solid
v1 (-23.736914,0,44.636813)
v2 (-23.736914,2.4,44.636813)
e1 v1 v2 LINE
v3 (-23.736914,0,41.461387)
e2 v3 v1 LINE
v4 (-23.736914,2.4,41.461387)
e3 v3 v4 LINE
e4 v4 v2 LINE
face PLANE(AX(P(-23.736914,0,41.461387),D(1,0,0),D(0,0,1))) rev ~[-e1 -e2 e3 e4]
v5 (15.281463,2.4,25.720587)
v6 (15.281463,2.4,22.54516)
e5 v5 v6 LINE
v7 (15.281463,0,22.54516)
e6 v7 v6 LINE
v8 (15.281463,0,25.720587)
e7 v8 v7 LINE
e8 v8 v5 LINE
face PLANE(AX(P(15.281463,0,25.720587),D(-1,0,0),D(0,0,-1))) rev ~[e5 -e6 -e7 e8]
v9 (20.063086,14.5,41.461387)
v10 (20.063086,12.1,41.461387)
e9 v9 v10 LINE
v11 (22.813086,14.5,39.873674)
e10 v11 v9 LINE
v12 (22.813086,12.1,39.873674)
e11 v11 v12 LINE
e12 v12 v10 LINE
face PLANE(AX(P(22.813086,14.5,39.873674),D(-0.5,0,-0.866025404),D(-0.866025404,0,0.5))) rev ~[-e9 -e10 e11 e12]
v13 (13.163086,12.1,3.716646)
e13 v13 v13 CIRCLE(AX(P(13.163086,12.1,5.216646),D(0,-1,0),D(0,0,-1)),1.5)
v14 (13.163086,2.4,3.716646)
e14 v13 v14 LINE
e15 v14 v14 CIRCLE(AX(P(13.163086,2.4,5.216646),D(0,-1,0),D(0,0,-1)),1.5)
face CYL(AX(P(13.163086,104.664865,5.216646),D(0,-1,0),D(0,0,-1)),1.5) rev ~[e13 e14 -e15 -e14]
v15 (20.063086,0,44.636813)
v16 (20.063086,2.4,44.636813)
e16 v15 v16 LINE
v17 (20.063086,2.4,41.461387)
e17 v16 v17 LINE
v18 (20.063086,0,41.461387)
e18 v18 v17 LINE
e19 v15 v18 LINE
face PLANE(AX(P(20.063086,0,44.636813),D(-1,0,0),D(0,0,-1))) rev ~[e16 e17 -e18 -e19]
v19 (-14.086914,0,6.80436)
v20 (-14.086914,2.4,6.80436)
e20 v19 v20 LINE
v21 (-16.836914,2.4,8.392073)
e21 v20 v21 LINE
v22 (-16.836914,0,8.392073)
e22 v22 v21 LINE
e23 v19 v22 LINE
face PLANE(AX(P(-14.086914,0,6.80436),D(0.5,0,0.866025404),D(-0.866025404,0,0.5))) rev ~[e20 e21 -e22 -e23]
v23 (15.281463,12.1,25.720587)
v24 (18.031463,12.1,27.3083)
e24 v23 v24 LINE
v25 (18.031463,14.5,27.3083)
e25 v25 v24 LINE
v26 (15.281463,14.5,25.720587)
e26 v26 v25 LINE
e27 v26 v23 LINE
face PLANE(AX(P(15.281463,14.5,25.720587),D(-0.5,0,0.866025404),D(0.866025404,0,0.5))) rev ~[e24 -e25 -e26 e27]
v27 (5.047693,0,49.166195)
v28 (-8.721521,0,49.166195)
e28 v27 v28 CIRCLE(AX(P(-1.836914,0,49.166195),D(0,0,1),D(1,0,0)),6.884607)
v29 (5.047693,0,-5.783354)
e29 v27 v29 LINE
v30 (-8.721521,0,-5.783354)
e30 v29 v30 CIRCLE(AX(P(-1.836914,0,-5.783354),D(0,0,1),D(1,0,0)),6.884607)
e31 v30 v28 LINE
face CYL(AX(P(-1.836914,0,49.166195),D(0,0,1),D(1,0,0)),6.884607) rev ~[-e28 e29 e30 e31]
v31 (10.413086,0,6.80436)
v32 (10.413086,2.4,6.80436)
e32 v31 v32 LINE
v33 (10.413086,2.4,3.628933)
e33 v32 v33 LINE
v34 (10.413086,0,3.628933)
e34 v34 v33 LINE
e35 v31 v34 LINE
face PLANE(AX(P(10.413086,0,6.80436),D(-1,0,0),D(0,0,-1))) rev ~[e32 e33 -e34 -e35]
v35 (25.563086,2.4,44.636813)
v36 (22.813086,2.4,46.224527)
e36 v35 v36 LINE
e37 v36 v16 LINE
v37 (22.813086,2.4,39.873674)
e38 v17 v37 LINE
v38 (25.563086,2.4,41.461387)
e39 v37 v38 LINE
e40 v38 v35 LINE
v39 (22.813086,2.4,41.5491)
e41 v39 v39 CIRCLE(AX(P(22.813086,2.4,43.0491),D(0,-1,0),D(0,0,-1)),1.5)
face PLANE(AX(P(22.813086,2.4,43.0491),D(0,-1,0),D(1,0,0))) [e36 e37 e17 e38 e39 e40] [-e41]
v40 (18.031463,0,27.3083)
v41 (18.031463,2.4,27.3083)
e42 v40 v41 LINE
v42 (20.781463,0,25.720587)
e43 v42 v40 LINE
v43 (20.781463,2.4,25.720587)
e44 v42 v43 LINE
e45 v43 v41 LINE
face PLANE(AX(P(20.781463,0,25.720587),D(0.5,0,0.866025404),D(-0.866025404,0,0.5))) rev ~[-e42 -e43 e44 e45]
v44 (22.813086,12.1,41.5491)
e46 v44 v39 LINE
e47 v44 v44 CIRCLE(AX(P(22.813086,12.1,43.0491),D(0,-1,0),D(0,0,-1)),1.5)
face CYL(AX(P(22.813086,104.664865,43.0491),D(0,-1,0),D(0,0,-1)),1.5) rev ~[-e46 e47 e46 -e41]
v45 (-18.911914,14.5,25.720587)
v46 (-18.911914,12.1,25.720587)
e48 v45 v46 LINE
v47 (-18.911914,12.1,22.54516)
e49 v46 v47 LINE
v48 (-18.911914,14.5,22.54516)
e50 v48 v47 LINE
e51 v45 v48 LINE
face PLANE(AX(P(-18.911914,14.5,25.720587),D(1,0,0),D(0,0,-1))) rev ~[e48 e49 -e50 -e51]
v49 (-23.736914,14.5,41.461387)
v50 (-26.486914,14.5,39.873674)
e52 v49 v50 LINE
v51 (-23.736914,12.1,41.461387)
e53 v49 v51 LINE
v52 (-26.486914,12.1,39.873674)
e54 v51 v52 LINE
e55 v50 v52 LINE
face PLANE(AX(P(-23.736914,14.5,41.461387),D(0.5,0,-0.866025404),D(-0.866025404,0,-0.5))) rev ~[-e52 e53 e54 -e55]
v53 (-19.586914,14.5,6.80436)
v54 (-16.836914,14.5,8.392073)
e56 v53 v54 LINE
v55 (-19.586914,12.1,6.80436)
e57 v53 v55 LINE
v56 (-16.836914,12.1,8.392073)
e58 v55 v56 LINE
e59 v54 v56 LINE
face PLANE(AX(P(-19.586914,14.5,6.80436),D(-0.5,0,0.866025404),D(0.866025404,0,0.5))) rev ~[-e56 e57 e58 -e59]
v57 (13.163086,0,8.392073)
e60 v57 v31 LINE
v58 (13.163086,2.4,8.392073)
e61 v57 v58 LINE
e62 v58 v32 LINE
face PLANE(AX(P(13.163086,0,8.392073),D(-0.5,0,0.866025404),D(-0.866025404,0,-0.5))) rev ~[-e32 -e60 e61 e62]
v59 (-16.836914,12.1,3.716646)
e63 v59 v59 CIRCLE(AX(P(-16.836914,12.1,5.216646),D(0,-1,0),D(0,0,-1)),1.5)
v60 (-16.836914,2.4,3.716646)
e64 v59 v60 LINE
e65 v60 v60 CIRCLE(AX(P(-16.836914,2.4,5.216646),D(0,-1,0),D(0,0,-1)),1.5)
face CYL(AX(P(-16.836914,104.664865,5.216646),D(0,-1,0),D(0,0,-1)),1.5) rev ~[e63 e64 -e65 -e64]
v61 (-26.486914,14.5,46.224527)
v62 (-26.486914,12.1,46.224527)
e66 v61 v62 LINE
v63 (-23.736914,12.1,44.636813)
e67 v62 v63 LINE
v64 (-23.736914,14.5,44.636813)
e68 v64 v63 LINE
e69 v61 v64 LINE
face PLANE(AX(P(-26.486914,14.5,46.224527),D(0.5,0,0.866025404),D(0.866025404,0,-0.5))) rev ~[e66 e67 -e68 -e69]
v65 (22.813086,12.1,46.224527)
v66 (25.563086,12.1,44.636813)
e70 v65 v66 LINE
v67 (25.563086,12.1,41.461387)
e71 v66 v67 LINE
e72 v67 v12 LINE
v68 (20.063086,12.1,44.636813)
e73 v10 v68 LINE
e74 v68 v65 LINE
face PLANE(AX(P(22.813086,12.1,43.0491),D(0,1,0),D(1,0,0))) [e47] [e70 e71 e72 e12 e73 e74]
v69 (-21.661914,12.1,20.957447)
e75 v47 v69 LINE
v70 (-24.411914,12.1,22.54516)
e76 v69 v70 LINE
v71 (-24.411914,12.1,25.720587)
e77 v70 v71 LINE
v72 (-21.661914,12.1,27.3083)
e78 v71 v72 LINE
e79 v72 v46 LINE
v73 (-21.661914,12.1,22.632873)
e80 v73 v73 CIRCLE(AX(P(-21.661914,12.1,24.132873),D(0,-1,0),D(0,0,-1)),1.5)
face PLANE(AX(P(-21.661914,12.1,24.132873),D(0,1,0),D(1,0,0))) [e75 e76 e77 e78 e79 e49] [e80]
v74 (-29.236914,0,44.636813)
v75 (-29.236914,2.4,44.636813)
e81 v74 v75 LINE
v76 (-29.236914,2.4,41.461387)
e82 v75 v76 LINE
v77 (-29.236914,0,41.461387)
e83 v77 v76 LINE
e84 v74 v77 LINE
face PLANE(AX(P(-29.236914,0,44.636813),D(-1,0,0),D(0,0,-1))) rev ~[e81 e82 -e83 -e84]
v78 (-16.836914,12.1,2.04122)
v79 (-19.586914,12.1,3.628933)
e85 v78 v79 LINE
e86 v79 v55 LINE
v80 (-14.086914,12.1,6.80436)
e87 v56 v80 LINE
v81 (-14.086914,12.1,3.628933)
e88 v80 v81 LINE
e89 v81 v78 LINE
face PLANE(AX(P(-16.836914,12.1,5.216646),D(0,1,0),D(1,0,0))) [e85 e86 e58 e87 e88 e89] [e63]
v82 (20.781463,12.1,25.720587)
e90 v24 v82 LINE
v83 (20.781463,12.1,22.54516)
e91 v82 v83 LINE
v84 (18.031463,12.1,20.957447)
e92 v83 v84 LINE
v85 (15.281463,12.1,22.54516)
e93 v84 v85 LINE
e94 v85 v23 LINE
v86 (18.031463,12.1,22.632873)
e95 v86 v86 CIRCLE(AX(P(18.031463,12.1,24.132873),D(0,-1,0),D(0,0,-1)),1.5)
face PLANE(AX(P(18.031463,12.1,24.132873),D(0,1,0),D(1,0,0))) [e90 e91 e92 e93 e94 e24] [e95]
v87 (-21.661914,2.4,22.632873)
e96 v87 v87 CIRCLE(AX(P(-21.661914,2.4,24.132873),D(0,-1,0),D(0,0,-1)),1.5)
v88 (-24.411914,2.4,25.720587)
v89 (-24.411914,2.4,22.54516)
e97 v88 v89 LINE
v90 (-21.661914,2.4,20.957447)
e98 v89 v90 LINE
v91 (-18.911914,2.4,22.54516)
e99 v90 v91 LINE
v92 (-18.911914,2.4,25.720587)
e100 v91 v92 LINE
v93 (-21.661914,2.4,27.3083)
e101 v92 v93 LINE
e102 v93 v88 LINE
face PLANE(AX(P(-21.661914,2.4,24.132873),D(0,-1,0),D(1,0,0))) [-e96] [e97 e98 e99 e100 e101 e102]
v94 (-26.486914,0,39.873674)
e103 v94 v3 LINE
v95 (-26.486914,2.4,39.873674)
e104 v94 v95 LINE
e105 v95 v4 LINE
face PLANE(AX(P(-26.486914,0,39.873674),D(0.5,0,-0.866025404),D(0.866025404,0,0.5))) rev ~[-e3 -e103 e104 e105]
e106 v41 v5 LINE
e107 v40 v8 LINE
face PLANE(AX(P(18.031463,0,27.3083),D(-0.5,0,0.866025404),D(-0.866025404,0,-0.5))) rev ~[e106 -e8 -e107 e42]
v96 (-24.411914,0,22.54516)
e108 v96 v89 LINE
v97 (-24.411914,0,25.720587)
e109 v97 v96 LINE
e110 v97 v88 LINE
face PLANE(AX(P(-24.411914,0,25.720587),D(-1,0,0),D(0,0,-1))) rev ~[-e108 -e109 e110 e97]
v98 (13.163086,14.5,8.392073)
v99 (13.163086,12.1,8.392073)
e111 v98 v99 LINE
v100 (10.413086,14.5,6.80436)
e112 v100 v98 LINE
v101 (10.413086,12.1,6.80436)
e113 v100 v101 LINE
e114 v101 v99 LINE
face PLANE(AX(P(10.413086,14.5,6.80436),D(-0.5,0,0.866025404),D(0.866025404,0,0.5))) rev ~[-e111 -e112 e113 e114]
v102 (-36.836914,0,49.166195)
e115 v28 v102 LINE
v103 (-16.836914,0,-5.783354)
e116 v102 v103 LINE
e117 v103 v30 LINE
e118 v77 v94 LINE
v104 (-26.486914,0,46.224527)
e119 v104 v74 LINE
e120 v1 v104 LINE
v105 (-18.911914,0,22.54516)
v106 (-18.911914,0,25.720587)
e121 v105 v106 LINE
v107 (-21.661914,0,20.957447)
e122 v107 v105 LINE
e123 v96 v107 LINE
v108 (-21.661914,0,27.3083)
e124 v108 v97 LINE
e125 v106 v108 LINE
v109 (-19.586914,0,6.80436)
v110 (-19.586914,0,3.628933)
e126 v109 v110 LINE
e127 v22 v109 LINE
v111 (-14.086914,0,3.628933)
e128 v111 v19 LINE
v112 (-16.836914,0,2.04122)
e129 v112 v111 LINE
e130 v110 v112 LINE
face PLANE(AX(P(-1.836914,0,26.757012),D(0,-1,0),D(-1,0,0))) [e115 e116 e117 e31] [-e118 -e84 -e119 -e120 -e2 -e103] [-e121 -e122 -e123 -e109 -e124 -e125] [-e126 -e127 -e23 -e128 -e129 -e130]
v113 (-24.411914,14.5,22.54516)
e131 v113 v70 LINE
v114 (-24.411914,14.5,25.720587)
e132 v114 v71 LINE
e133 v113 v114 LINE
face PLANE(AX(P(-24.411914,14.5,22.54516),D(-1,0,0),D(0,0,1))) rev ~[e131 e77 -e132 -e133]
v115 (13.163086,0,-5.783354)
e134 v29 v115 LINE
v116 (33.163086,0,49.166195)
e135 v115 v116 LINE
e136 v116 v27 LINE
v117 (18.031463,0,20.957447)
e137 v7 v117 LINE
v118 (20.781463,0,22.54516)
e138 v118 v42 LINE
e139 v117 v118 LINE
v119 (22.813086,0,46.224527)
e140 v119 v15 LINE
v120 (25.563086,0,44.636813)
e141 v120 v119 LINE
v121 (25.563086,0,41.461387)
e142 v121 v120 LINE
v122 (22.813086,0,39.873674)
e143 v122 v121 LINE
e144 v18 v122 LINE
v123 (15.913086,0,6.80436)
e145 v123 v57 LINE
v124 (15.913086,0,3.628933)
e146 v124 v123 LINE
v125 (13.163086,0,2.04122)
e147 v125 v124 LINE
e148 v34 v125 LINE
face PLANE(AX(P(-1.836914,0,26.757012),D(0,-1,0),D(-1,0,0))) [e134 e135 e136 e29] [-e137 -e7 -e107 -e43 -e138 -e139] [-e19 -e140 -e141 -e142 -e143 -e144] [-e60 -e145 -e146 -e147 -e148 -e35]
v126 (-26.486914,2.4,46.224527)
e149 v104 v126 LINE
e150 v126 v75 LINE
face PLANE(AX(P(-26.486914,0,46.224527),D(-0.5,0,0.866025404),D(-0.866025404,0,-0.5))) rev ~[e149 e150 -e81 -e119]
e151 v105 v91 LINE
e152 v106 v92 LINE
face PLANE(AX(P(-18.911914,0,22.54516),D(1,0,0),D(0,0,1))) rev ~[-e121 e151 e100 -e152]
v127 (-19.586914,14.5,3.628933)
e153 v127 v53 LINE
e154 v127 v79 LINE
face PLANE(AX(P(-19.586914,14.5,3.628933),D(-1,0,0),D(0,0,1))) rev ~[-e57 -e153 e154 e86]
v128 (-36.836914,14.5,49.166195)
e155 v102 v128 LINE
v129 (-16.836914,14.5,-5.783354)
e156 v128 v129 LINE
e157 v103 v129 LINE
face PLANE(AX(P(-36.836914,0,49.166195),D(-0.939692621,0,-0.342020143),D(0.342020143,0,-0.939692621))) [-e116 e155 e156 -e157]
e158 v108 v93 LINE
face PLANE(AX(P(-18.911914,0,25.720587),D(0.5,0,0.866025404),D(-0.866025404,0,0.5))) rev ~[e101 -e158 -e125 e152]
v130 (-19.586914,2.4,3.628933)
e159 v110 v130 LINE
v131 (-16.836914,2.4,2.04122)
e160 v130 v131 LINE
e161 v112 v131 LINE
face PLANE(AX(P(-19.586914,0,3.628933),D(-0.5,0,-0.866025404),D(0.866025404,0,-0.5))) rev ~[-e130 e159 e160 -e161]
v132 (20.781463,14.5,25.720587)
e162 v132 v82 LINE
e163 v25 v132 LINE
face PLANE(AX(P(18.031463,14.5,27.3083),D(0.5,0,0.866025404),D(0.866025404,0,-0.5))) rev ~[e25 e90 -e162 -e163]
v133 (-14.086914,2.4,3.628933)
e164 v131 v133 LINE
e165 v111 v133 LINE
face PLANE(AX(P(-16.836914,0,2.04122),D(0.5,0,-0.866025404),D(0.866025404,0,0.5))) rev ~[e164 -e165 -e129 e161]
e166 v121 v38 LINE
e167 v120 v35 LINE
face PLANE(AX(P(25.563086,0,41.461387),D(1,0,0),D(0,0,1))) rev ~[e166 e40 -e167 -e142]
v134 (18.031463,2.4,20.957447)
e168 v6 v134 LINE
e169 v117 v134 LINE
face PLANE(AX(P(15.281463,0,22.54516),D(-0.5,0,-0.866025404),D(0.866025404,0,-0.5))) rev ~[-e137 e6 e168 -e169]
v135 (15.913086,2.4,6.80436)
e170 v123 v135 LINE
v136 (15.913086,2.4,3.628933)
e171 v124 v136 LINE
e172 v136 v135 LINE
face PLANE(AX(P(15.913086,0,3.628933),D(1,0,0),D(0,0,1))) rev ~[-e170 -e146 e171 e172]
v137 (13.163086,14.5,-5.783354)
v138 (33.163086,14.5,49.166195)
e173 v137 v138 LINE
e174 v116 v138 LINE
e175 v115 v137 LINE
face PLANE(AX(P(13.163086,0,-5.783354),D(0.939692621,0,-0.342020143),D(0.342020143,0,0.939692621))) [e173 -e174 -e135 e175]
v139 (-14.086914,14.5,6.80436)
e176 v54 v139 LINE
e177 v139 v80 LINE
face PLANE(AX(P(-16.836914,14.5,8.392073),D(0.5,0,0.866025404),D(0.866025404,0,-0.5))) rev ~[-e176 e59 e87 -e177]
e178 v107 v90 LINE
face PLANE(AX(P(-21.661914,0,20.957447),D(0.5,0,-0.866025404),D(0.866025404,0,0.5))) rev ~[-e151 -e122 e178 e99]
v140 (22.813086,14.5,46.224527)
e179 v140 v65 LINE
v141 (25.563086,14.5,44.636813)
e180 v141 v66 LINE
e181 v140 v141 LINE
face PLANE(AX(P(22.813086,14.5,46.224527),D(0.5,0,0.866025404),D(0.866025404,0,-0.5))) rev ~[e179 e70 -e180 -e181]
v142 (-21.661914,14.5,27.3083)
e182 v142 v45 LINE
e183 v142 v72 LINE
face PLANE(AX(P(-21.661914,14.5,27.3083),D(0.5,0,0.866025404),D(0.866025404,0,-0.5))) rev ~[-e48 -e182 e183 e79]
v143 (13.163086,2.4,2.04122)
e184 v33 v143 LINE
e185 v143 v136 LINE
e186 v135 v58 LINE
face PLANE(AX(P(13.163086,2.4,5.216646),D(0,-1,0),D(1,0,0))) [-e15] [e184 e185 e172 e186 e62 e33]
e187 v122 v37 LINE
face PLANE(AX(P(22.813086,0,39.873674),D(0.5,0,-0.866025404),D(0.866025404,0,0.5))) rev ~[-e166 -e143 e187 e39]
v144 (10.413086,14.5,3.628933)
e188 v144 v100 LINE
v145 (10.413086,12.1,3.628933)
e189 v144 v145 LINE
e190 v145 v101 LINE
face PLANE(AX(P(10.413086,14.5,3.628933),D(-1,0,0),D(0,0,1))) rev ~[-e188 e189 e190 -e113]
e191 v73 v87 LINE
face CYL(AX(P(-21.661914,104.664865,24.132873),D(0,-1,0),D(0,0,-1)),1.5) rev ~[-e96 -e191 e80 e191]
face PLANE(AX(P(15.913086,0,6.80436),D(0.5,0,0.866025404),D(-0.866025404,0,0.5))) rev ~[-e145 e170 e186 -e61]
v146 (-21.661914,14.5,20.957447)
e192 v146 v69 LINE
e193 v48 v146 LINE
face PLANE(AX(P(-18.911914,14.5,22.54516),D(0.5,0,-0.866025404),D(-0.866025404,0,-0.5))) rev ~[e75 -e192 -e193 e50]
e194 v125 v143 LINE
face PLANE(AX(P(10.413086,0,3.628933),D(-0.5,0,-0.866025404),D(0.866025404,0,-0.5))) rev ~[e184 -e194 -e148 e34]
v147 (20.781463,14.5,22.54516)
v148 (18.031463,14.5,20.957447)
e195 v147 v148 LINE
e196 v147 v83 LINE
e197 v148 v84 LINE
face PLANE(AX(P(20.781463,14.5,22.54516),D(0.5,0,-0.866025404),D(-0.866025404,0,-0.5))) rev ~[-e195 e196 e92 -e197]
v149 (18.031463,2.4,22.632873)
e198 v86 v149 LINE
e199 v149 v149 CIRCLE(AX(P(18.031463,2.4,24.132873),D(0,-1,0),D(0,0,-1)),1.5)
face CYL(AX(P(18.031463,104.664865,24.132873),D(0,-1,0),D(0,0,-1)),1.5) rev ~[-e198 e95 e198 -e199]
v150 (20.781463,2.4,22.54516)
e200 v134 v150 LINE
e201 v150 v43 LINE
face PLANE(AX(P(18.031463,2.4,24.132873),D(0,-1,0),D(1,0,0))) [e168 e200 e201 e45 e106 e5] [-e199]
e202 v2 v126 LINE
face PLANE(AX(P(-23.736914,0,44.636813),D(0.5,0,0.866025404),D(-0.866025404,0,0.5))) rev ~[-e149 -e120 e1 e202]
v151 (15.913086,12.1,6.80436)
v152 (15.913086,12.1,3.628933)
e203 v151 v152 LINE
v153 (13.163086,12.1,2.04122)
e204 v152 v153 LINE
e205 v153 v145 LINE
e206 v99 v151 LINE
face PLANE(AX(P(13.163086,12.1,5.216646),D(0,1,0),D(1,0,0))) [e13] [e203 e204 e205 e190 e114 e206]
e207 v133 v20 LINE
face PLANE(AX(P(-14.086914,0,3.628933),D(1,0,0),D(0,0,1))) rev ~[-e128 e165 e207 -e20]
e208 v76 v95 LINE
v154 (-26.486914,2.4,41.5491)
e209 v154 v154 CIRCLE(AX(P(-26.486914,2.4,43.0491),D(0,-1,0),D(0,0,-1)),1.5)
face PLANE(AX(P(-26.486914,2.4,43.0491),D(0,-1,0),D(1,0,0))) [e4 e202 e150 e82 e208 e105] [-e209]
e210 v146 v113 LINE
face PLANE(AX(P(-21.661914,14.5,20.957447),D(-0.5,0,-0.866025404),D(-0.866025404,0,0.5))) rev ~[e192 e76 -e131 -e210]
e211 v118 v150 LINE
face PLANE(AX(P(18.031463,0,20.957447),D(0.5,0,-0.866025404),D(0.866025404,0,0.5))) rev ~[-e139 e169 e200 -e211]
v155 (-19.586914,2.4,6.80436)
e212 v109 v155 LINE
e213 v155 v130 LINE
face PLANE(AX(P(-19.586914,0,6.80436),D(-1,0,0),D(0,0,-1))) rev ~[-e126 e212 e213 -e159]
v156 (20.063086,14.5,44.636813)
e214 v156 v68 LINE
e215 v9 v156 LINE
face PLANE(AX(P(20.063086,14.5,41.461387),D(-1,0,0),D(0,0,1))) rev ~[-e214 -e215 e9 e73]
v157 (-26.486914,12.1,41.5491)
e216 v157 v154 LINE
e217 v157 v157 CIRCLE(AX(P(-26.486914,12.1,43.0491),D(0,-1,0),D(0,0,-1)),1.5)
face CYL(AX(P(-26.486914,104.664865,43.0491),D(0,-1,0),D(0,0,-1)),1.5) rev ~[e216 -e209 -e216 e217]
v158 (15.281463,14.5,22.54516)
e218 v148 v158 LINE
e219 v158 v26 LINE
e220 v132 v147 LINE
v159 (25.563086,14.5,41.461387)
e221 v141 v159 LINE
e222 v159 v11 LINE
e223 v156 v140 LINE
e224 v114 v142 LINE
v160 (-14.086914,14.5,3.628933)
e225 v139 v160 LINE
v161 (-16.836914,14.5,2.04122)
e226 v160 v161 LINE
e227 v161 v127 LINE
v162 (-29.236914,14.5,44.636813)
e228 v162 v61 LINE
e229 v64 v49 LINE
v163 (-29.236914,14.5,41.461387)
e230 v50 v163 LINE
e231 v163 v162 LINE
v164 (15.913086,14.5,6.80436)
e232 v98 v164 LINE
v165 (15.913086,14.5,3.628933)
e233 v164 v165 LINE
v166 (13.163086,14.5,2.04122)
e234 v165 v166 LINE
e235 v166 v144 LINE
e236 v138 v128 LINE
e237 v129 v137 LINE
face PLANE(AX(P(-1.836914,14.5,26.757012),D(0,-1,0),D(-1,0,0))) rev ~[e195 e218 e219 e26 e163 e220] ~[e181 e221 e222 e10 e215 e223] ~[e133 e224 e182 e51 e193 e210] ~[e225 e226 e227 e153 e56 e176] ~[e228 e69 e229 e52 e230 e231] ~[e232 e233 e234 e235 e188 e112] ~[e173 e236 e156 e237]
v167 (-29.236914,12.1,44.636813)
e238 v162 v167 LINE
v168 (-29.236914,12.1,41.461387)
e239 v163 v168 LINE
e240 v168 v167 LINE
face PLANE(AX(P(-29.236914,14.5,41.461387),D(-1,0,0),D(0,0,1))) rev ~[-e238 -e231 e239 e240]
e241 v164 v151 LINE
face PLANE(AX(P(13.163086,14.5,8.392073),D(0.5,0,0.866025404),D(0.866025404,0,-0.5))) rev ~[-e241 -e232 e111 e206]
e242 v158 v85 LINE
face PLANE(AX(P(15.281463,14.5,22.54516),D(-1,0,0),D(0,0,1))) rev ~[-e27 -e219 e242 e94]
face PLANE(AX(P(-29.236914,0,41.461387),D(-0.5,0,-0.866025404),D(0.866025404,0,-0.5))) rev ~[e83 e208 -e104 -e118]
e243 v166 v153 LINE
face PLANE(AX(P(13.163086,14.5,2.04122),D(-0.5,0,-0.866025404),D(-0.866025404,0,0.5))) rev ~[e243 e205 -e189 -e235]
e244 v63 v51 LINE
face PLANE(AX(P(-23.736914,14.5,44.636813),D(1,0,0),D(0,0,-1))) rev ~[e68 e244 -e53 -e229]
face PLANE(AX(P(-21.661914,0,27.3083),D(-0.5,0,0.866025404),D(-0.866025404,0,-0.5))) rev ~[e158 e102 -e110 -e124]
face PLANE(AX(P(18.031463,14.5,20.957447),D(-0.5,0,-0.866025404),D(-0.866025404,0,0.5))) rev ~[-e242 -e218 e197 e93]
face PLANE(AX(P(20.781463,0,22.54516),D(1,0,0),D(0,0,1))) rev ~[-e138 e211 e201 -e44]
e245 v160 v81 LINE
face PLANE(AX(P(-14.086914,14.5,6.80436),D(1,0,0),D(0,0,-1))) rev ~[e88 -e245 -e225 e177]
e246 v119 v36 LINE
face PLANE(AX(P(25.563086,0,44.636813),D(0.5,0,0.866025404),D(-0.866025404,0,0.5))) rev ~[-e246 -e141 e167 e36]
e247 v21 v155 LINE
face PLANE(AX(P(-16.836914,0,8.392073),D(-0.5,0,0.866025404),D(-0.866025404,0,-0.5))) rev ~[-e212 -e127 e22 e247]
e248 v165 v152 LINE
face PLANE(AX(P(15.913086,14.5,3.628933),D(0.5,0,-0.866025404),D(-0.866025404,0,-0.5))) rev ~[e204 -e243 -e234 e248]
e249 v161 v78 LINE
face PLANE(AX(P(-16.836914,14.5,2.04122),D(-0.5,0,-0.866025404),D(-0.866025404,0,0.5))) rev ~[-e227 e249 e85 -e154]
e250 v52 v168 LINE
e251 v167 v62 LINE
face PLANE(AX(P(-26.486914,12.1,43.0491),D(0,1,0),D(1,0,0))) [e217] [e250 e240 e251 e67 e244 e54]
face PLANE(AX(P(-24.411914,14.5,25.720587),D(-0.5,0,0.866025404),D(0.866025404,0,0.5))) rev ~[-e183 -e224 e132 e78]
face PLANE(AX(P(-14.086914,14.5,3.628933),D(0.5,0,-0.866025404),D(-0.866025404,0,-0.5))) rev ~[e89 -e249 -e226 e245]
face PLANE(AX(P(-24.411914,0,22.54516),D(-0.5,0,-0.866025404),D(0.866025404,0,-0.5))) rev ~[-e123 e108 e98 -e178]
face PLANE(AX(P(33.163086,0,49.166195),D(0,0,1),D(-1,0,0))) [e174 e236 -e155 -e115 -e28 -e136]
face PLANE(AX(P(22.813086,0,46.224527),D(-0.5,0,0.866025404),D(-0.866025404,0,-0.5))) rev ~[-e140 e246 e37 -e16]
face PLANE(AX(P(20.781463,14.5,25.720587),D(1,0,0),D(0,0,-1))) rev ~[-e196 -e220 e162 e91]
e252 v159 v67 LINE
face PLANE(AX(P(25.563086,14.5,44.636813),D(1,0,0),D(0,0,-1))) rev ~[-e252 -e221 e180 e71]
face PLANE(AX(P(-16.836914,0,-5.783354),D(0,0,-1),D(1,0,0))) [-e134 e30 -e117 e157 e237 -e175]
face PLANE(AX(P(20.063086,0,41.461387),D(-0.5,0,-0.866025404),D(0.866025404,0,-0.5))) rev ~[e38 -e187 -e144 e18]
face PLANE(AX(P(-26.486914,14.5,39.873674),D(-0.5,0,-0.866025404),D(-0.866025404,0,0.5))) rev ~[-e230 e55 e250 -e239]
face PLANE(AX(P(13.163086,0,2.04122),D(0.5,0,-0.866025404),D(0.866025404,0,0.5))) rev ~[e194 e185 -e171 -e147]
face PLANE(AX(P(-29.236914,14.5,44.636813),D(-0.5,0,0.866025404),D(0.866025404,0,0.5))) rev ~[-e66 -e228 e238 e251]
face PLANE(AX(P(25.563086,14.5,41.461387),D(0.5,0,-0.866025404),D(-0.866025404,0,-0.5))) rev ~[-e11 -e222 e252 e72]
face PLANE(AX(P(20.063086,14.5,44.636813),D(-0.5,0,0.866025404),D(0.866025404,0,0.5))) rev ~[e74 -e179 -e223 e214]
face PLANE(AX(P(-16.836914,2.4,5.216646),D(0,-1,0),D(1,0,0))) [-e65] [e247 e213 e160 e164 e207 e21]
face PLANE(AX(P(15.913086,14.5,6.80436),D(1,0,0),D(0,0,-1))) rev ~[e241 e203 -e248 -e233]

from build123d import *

# Parameters (mm, degrees)
BOSS_EXTRUDE3_DEPTH              = 14.5
SKETCH8_R                        = 6.884606738
CUT_EXTRUDE3_DEPTH               = 88
CUT_EXTRUDE4_DEPTH               = 2.4
CUT_EXTRUDE5_DEPTH               = 2.4
F_39_0_11811024_DIAMETER_HOLE1_D = 3.000000096


with BuildPart() as part:
    # Sketch6 → Boss-Extrude3 (new body)
    with BuildSketch(Plane(origin=(0, 0, 0), x_dir=(1, 0, 0), z_dir=(0, 1, 0))):
        Polygon((-16.836914056, 5.783353512), (13.163085944, 5.783353512), (33.163085944, -49.166194877), (-36.836914056, -49.166194877), align=None)
    extrude(amount=BOSS_EXTRUDE3_DEPTH)

    # Sketch8 → Cut-Extrude3 (cut)
    with BuildSketch(Plane.XY.offset(49.166194877)):
        with Locations((-1.836914056, 0)):
            Circle(SKETCH8_R)
    extrude(amount=-CUT_EXTRUDE3_DEPTH, mode=Mode.SUBTRACT)

    # Sketch9 → Cut-Extrude4 (cut)
    with BuildSketch(Plane(origin=(0, 14.5, 0), x_dir=(1, 0, 0), z_dir=(0, 1, 0))):
        Polygon((-21.661914056, -27.308299801), (-18.911914056, -25.72058656), (-18.911914056, -22.54516008), (-21.661914056, -20.95744684), (-24.411914056, -22.54516008), (-24.411914056, -25.72058656), align=None)
        Polygon((-26.486914056, -46.224526633), (-23.736914056, -44.636813392), (-23.736914056, -41.461386912), (-26.486914056, -39.873673672), (-29.236914056, -41.461386912), (-29.236914056, -44.636813392), align=None)
        Polygon((22.813085944, -46.224526633), (25.563085944, -44.636813392), (25.563085944, -41.461386912), (22.813085944, -39.873673672), (20.063085944, -41.461386912), (20.063085944, -44.636813392), align=None)
        Polygon((18.031463076, -27.308299801), (20.781463076, -25.72058656), (20.781463076, -22.54516008), (18.031463076, -20.95744684), (15.281463076, -22.54516008), (15.281463076, -25.72058656), align=None)
        Polygon((-16.836914056, -8.392072969), (-14.086914056, -6.804359728), (-14.086914056, -3.628933248), (-16.836914056, -2.041220008), (-19.586914056, -3.628933248), (-19.586914056, -6.804359728), align=None)
        Polygon((13.163085944, -8.392072969), (15.913085944, -6.804359728), (15.913085944, -3.628933248), (13.163085944, -2.041220008), (10.413085944, -3.628933248), (10.413085944, -6.804359728), align=None)
    extrude(amount=-CUT_EXTRUDE4_DEPTH, mode=Mode.SUBTRACT)

    # Sketch10 → Cut-Extrude5 (cut)
    with BuildSketch(Plane.XZ):
        Polygon((-26.486914056, 39.873673672), (-23.736914056, 41.461386912), (-23.736914056, 44.636813392), (-26.486914056, 46.224526633), (-29.236914056, 44.636813392), (-29.236914056, 41.461386912), align=None)
        Polygon((-21.661914056, 20.95744684), (-18.911914056, 22.54516008), (-18.911914056, 25.72058656), (-21.661914056, 27.308299801), (-24.411914056, 25.72058656), (-24.411914056, 22.54516008), align=None)
        Polygon((18.031463076, 20.95744684), (20.781463076, 22.54516008), (20.781463076, 25.72058656), (18.031463076, 27.308299801), (15.281463076, 25.72058656), (15.281463076, 22.54516008), align=None)
        Polygon((22.813085944, 39.873673672), (25.563085944, 41.461386912), (25.563085944, 44.636813392), (22.813085944, 46.224526633), (20.063085944, 44.636813392), (20.063085944, 41.461386912), align=None)
        Polygon((-16.836914056, 2.041220008), (-14.086914056, 3.628933248), (-14.086914056, 6.804359728), (-16.836914056, 8.392072969), (-19.586914056, 6.804359728), (-19.586914056, 3.628933248), align=None)
        Polygon((13.163085944, 2.041220008), (15.913085944, 3.628933248), (15.913085944, 6.804359728), (13.163085944, 8.392072969), (10.413085944, 6.804359728), (10.413085944, 3.628933248), align=None)
    extrude(amount=-CUT_EXTRUDE5_DEPTH, mode=Mode.SUBTRACT)

    # #39 (0.11811024) Diameter Hole1 (through all)
    with Locations(Plane(origin=(-16.836914056, 14.5, 5.216646488), x_dir=(0, 0, 1), z_dir=(0, 1, 0))):
        with Locations((0, 0), (0, 30), (18.916226832, 34.868377132), (18.916226832, -4.825), (37.832453664, -9.65), (37.832453664, 39.65)):
            Hole(F_39_0_11811024_DIAMETER_HOLE1_D / 2)


solid = part.part
